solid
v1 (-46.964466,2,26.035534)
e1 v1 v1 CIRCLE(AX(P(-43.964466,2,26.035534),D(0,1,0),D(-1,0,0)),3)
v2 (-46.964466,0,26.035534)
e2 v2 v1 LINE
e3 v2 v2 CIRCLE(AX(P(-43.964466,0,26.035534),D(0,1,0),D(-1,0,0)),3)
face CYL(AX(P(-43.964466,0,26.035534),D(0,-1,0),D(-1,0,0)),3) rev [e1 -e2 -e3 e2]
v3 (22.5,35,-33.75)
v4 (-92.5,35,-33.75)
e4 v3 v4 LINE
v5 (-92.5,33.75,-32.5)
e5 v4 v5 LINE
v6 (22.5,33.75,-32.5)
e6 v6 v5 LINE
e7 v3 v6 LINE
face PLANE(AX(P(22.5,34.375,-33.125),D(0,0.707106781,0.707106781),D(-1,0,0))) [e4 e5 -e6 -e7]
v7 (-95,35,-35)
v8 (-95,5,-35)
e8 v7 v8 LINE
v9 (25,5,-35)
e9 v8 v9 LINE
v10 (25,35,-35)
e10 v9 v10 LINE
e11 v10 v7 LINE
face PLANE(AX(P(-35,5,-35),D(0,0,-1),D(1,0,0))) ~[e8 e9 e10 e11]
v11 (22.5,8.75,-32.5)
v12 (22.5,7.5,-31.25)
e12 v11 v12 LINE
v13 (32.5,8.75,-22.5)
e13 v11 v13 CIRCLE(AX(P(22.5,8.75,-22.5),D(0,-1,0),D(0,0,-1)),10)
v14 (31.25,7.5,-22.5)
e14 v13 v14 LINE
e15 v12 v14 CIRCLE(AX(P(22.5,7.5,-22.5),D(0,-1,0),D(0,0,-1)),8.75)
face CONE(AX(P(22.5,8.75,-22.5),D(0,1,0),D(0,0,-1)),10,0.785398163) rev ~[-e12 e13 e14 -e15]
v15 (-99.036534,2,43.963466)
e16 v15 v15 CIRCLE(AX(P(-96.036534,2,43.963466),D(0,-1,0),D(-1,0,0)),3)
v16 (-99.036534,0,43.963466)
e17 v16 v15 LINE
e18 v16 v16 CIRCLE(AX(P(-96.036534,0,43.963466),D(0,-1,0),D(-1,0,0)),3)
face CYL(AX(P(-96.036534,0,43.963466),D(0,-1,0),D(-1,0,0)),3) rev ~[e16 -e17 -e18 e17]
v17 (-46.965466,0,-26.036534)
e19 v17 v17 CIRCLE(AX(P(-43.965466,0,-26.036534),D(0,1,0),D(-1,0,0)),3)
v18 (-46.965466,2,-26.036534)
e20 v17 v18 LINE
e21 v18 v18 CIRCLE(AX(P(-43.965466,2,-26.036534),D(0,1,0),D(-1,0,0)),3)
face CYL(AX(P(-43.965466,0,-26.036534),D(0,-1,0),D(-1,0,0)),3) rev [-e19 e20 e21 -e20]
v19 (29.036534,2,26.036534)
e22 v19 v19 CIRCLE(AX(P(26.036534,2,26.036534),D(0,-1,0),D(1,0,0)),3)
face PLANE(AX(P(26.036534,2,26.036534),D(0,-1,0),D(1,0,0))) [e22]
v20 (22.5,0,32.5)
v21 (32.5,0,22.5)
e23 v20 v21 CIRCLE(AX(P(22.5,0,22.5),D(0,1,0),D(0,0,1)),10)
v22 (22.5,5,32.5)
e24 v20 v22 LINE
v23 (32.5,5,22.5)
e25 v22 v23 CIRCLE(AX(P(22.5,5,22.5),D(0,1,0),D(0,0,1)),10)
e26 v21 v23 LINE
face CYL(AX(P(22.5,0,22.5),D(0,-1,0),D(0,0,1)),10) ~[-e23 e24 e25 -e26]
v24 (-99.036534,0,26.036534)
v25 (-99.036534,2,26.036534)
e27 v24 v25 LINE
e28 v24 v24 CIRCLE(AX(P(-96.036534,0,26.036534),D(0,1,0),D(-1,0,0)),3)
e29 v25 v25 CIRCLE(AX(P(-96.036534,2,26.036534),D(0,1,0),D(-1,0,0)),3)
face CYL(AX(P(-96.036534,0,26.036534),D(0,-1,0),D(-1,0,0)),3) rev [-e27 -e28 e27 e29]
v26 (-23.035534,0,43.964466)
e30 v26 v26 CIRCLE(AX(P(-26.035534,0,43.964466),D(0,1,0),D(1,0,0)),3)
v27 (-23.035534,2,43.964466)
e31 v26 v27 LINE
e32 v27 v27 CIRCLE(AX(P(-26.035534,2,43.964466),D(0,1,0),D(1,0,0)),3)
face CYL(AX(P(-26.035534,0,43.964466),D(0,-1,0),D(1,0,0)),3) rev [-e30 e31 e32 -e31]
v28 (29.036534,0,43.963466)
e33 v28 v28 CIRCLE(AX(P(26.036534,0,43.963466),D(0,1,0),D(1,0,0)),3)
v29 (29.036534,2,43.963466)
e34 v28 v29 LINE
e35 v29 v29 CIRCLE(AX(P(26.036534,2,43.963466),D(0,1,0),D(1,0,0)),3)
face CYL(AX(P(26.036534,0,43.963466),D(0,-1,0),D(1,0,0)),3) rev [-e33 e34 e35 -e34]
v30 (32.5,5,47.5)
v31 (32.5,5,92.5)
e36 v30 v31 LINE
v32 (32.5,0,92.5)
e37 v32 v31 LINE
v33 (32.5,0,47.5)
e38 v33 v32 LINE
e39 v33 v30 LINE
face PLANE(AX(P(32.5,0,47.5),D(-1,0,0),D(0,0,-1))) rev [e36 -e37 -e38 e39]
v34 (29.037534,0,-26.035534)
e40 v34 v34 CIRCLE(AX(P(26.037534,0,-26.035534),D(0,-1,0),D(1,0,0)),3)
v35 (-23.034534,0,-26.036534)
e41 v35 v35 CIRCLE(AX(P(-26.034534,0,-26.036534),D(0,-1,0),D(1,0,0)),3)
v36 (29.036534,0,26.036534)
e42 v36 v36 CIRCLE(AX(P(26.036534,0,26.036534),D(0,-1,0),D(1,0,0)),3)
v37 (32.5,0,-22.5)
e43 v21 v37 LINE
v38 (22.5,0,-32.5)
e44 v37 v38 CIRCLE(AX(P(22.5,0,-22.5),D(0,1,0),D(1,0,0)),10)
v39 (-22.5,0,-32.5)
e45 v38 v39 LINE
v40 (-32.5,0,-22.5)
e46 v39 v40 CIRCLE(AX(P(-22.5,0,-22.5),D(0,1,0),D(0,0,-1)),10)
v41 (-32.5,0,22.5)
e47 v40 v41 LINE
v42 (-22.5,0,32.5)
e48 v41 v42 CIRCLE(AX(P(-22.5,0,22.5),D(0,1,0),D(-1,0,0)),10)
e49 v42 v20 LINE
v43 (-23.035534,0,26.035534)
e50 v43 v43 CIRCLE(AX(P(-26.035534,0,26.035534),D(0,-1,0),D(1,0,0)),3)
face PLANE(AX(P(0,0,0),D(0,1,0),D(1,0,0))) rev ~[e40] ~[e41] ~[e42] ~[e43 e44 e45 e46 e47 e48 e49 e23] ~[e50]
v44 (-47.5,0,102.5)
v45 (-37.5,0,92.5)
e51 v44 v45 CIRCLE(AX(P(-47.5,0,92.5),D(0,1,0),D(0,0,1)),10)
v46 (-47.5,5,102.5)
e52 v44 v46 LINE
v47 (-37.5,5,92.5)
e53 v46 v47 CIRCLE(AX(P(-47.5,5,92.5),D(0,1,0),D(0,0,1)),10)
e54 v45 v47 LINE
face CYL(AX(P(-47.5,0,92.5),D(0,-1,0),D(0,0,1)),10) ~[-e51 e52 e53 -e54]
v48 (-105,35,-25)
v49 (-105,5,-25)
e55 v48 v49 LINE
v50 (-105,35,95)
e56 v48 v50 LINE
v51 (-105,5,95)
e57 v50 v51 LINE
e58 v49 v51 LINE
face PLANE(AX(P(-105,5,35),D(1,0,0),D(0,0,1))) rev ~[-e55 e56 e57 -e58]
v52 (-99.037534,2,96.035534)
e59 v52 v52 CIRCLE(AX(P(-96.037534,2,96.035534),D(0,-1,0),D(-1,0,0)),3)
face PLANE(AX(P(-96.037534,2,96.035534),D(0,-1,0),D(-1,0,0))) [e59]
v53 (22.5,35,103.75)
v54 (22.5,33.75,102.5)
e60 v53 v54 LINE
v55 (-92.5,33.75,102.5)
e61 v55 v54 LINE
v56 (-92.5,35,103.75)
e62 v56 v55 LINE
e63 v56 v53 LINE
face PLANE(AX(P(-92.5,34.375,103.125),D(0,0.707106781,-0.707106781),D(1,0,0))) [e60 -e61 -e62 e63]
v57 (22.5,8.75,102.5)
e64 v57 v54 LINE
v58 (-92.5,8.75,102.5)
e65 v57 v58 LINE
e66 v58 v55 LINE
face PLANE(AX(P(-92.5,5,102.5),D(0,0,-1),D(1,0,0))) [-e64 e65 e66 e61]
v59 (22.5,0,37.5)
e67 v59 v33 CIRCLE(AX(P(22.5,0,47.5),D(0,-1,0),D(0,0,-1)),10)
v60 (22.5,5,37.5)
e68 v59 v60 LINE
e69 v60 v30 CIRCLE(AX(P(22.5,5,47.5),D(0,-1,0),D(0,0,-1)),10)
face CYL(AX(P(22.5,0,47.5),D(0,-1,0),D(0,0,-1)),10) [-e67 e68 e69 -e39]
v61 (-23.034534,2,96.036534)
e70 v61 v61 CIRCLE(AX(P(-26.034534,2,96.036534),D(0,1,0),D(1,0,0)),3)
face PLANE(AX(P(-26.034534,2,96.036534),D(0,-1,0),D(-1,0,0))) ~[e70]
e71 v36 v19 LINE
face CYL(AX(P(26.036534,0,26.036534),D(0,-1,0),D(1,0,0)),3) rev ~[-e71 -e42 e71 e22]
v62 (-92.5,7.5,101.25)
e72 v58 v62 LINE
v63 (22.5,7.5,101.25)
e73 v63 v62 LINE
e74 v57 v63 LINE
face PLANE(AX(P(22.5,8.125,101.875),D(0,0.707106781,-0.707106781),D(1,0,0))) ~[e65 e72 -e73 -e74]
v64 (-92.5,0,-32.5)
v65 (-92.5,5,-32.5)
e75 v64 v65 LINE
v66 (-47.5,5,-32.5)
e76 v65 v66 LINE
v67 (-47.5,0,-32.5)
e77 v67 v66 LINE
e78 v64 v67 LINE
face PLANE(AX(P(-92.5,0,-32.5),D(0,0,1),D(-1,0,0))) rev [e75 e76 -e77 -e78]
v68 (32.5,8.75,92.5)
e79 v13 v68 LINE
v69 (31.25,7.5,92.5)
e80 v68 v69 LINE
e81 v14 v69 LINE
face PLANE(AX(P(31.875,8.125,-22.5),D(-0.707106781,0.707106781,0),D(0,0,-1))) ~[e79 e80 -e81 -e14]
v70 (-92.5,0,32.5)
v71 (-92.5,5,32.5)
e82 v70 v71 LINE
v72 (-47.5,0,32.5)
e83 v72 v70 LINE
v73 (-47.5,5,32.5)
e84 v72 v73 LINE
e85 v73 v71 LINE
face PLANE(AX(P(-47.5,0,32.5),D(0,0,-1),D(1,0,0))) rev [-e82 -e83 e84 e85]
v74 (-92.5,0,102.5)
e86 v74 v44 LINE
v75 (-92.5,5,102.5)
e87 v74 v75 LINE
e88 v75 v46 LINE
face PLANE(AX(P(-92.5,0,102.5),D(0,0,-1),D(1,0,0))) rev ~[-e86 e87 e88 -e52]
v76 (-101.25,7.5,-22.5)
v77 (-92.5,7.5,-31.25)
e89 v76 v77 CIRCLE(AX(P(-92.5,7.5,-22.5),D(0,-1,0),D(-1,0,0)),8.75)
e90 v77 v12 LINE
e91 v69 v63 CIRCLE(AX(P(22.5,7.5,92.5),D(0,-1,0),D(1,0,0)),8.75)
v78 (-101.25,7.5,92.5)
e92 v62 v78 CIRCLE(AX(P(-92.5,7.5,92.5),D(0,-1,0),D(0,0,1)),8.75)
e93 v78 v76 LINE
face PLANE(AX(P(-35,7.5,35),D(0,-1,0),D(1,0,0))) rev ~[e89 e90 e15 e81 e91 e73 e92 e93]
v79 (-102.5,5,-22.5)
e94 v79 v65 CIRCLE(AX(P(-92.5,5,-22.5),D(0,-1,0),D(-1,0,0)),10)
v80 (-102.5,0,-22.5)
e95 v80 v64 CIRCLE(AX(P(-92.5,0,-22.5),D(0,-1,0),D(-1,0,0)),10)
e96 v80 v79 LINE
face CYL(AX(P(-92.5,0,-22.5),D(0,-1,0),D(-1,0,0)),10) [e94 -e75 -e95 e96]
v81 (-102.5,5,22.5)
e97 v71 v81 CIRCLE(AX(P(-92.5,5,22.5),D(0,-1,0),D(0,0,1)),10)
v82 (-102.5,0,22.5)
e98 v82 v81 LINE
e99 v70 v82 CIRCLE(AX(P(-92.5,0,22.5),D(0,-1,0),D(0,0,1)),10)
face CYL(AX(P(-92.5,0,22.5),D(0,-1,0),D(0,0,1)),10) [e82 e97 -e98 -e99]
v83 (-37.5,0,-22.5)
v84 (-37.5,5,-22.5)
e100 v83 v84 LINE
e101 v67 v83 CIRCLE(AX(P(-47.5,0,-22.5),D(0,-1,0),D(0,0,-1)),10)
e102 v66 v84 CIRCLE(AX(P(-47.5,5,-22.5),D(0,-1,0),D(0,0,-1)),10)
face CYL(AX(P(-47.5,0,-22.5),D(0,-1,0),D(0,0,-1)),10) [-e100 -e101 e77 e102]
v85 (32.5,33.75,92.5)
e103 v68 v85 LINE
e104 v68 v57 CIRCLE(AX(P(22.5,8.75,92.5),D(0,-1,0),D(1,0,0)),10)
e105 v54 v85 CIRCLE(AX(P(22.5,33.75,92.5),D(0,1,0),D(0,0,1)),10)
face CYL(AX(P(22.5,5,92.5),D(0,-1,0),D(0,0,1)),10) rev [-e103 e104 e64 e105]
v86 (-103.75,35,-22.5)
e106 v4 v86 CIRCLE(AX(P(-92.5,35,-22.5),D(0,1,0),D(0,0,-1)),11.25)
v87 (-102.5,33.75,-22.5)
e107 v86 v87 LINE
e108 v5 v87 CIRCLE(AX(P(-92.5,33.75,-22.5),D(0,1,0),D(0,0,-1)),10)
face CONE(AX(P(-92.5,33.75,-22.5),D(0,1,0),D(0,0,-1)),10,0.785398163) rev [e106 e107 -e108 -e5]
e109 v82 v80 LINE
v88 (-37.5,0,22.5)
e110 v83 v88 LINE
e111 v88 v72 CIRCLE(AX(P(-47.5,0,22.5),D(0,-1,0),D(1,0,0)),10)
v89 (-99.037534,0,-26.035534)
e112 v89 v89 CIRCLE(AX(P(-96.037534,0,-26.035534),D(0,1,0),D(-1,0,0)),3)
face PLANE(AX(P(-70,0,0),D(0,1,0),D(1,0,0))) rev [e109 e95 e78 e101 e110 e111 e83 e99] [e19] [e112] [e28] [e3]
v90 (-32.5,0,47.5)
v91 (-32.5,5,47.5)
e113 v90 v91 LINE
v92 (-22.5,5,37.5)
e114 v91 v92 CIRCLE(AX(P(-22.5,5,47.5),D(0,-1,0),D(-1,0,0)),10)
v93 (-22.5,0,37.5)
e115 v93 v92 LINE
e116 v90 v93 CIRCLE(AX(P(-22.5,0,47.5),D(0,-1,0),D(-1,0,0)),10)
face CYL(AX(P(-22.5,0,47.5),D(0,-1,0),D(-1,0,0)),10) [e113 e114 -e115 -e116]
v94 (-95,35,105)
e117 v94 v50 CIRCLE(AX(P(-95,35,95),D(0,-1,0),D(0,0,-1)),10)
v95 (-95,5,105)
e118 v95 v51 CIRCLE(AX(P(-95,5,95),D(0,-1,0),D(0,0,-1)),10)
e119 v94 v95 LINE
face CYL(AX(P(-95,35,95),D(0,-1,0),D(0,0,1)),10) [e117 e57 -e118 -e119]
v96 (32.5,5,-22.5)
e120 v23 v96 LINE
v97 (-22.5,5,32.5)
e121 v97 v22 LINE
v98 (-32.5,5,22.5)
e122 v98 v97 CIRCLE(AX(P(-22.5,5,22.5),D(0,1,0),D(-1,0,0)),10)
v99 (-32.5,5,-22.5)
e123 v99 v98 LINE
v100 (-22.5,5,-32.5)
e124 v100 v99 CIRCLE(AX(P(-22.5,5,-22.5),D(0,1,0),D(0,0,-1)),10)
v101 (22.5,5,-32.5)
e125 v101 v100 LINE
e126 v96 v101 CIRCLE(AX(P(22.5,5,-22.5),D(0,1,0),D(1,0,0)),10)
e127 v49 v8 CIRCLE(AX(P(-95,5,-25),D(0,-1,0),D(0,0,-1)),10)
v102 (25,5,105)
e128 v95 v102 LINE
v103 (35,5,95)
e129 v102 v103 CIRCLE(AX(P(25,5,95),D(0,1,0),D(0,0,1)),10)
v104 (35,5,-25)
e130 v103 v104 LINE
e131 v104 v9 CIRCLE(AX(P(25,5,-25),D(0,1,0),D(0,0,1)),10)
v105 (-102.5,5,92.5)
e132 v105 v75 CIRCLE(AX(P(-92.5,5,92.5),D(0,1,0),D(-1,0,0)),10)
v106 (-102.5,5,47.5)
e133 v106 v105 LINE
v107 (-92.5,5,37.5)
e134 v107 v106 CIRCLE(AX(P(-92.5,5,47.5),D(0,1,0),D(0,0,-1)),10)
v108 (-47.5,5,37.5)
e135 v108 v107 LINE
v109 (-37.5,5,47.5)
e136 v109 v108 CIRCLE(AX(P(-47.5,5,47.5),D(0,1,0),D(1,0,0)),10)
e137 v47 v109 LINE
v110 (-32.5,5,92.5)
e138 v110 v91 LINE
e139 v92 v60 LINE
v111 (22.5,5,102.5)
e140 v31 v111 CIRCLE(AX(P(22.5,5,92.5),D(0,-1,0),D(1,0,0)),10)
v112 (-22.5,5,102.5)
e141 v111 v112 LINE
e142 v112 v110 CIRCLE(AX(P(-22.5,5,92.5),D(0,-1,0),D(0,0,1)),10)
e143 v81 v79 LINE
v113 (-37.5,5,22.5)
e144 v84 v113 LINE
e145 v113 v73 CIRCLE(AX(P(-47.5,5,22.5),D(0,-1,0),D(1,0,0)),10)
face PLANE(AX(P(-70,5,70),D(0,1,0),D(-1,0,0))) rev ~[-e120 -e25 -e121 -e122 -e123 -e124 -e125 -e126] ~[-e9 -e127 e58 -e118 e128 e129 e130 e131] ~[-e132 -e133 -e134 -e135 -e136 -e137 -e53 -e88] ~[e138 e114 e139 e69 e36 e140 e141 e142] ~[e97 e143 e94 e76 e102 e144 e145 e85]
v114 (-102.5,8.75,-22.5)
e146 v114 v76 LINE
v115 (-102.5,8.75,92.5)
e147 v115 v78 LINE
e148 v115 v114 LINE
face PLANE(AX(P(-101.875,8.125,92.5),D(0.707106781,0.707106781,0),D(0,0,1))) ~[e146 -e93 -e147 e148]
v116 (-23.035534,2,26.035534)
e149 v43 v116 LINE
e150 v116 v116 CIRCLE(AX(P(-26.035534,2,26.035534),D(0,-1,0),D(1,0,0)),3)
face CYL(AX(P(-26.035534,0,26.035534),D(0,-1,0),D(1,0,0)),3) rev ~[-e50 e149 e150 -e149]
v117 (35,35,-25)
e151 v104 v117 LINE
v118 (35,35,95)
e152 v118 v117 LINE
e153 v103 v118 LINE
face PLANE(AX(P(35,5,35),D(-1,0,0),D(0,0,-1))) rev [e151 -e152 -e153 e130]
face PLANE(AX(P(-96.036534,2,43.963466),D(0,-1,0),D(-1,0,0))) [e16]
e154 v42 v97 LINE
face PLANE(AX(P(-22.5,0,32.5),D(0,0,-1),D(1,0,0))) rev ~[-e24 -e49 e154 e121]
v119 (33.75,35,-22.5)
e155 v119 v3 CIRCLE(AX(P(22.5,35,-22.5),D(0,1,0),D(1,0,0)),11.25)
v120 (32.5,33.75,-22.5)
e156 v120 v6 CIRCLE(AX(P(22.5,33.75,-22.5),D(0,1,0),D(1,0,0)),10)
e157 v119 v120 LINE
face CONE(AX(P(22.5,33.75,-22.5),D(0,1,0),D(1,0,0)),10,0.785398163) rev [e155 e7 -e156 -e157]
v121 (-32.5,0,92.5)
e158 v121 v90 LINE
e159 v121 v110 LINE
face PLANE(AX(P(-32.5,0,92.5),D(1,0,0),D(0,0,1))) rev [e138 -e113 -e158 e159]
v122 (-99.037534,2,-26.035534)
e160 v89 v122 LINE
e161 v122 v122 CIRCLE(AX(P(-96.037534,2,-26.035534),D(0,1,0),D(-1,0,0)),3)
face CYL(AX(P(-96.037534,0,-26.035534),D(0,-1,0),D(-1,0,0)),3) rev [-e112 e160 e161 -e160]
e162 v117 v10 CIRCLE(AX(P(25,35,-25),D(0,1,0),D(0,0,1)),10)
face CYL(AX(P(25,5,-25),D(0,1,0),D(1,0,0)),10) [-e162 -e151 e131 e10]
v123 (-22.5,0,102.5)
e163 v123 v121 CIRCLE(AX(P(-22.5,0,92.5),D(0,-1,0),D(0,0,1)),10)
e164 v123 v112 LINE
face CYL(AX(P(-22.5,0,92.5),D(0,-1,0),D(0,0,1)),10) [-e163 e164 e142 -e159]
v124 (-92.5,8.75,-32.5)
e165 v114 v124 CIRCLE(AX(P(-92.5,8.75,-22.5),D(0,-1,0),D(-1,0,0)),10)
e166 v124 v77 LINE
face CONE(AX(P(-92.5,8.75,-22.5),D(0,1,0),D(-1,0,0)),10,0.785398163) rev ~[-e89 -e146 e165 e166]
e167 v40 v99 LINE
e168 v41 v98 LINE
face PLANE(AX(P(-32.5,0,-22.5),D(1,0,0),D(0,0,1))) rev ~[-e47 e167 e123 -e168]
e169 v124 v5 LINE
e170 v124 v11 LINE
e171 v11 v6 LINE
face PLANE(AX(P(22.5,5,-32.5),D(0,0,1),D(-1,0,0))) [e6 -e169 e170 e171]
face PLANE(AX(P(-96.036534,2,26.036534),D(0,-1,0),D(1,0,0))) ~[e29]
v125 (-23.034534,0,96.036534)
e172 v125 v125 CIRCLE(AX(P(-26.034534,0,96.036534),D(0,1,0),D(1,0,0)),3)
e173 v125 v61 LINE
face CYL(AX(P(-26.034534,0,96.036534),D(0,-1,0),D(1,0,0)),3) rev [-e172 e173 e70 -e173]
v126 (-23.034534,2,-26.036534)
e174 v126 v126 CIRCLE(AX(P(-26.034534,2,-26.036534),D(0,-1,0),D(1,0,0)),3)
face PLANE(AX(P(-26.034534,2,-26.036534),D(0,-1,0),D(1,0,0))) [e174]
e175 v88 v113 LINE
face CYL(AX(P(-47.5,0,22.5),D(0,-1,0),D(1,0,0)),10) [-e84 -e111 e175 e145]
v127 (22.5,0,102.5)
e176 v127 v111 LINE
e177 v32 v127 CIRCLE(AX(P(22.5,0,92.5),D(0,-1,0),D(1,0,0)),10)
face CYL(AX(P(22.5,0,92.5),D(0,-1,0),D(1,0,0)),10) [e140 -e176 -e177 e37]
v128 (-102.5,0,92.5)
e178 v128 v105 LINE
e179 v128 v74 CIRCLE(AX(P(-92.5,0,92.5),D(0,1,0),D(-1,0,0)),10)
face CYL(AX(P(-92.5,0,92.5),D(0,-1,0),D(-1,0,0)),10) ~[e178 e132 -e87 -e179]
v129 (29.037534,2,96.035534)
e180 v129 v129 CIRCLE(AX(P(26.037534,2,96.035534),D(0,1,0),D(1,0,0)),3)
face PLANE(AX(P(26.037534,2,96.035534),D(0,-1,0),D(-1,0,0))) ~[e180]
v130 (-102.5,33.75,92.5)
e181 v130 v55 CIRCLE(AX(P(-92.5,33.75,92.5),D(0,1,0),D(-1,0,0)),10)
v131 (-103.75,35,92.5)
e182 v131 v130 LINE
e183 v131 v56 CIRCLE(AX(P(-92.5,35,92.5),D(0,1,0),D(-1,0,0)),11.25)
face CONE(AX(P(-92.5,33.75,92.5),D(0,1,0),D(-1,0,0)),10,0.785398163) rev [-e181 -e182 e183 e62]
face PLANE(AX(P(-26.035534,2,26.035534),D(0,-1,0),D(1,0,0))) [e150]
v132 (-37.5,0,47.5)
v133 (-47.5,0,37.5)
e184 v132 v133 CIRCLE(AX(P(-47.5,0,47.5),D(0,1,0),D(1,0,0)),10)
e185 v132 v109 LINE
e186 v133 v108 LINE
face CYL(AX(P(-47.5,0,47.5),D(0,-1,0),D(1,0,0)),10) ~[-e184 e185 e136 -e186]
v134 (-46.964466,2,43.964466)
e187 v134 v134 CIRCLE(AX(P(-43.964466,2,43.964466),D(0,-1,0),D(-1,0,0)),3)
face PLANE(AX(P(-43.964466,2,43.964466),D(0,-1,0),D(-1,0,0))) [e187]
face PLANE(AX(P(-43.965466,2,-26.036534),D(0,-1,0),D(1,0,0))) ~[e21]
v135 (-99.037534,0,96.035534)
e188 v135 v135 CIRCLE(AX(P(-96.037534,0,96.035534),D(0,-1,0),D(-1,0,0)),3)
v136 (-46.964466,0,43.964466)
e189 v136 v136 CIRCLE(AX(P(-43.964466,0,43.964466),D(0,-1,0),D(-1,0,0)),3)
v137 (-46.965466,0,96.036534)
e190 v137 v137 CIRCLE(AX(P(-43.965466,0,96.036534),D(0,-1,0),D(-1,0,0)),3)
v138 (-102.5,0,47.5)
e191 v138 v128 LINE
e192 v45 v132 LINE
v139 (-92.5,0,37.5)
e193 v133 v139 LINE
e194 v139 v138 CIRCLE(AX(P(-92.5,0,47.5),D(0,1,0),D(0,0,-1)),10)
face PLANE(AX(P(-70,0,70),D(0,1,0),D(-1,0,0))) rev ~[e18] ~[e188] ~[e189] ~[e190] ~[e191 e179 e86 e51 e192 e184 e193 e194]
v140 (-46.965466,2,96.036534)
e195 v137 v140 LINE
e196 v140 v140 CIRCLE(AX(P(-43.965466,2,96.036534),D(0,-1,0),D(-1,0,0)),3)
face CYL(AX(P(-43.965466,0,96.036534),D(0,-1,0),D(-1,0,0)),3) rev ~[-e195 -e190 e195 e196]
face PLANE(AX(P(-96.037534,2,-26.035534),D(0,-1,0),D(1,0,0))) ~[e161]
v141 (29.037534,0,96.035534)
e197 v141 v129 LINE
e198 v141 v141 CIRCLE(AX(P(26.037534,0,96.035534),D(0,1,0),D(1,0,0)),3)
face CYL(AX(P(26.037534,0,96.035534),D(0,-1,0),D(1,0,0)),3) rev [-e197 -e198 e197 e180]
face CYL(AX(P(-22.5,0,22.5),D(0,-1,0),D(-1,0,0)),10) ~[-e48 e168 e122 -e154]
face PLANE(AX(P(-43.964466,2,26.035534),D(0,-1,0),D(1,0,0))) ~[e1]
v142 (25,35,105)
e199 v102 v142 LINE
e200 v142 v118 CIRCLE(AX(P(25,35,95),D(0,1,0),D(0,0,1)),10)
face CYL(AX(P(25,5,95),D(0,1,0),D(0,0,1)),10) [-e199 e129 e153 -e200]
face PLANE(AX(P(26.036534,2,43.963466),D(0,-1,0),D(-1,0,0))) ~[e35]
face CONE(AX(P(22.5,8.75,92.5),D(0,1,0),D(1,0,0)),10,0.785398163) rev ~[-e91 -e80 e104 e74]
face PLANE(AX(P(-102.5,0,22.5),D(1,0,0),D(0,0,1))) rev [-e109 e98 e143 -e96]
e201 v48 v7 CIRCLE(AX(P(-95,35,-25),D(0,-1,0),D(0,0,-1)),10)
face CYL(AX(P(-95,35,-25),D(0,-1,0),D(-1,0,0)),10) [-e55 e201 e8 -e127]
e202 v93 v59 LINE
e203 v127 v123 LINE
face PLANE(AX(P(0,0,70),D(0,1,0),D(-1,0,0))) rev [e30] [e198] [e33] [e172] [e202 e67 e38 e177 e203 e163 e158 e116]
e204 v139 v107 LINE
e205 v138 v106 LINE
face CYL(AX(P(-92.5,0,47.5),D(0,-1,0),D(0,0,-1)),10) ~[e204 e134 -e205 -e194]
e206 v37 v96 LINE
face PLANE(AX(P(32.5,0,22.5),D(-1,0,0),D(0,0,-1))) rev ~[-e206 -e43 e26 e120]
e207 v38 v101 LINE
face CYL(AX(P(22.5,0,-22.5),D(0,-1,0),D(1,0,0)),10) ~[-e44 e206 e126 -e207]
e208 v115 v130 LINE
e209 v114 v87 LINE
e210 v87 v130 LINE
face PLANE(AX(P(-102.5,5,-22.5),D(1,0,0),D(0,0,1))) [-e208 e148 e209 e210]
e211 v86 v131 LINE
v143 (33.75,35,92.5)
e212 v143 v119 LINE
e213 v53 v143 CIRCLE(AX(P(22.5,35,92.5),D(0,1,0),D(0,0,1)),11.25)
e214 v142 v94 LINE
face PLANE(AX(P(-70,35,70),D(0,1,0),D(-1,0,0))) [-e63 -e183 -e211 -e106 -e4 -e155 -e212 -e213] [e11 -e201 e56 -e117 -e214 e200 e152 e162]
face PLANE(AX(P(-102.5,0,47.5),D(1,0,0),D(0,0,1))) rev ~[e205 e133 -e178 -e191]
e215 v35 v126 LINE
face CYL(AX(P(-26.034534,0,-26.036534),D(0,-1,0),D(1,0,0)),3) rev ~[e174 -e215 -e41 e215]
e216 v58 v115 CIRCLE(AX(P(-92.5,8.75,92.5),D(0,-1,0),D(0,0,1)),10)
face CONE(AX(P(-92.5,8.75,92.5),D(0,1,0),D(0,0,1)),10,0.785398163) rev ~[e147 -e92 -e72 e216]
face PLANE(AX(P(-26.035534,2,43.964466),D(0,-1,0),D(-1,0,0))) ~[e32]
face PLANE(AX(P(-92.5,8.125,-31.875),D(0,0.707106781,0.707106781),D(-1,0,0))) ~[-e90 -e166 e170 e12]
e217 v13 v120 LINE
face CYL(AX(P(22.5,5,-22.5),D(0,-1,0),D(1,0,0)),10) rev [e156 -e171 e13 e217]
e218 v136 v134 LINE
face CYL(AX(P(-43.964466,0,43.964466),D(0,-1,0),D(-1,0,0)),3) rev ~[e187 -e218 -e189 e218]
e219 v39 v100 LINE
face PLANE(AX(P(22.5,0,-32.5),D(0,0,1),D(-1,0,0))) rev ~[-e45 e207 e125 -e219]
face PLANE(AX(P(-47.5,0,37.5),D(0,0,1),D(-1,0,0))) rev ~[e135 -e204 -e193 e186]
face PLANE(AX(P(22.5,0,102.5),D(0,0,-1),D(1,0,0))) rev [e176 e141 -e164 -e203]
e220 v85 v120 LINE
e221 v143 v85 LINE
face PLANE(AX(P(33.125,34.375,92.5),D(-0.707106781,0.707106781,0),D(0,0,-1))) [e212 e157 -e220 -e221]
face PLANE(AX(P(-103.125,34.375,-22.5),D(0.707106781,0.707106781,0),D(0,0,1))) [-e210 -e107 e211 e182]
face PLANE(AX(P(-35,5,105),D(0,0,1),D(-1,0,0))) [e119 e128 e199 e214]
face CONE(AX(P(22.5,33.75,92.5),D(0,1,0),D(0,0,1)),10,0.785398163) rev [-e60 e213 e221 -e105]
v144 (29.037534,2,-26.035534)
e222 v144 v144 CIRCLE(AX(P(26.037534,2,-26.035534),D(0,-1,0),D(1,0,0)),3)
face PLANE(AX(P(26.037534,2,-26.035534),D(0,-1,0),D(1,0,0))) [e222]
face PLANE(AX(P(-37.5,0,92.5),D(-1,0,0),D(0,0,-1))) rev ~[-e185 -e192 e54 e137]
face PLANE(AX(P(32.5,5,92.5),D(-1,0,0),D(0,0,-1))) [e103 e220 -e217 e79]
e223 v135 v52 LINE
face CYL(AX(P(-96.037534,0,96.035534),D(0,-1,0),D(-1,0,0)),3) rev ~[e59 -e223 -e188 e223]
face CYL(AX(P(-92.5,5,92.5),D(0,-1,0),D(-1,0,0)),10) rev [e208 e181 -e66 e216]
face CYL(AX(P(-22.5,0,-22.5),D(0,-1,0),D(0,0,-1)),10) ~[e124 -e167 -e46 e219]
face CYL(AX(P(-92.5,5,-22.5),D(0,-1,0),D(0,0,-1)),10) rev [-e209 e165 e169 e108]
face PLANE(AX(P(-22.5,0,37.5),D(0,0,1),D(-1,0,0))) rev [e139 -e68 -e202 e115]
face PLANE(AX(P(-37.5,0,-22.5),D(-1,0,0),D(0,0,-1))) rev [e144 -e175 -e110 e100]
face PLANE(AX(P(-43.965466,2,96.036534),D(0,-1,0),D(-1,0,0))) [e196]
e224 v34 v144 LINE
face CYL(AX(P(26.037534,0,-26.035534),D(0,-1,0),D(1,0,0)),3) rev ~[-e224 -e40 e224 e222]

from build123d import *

# Parameters (mm, degrees)
BOSS_EXTRUDE4_DEPTH = 5
SKETCH6_W           = 70
SKETCH6_H           = 70
BOSS_EXTRUDE5_DEPTH = 30
SKETCH8_R           = 3
CUT_EXTRUDE1_DEPTH  = 2
CUT_EXTRUDE3_START  = -30
CUT_EXTRUDE3_DEPTH  = 30
SKETCH10_W          = 140
SKETCH10_H          = 140
BOSS_EXTRUDE6_DEPTH = 2.5
FILLET1_R           = 10
CHAMFER1_SIZE       = 1.25


with BuildPart() as part:
    # Sketch5 → Boss-Extrude4 (new body)
    with BuildSketch(Plane(origin=(0, 0, 0), x_dir=(1, 0, 0), z_dir=(0, 1, 0))):
        with BuildLine():
            Line((-22.5, -32.5), (22.5, -32.5))
            ThreePointArc((22.5, -32.5), (29.571067812, -29.571067812), (32.5, -22.5))
            Line((32.5, -22.5), (32.5, 22.5))
            ThreePointArc((32.5, 22.5), (29.571067812, 29.571067812), (22.5, 32.5))
            Line((22.5, 32.5), (-22.5, 32.5))
            ThreePointArc((-22.5, 32.5), (-29.571067812, 29.571067812), (-32.5, 22.5))
            Line((-32.5, 22.5), (-32.5, -22.5))
            ThreePointArc((-32.5, -22.5), (-29.571067812, -29.571067812), (-22.5, -32.5))
        make_face()
    extrude(amount=BOSS_EXTRUDE4_DEPTH)

    # Sketch6 → Boss-Extrude5 (add)
    with BuildSketch(Plane(origin=(0, 5, 0), x_dir=(1, 0, 0), z_dir=(0, 1, 0))):
        Rectangle(SKETCH6_W, SKETCH6_H)
    extrude(amount=BOSS_EXTRUDE5_DEPTH)

    # Sketch8 → Cut-Extrude1 (cut)
    with BuildSketch(Plane.XZ):
        with Locations((-26.035533906, 26.035533906)):
            Circle(SKETCH8_R)
        with Locations((26.036533906, 26.036533906)):
            Circle(SKETCH8_R)
        with Locations((26.037533906, -26.035533906)):
            Circle(SKETCH8_R)
        with Locations((-26.034533906, -26.036533906)):
            Circle(SKETCH8_R)
    extrude(amount=-CUT_EXTRUDE1_DEPTH, mode=Mode.SUBTRACT)

    # Mirror1: part across plane


with BuildPart() as part_1:
    add(part.part)
    add(part.part.mirror(Plane(origin=(-35, 35, -35), x_dir=(0, 0, 1), z_dir=(1, 0, 0))))

    # Mirror2: part across plane


with BuildPart() as part_2:
    add(part_1.part)
    add(part_1.part.mirror(Plane(origin=(35, 35, 35), x_dir=(1, 0, 0), z_dir=(0, 0, -1))))

    # Sketch9 → Cut-Extrude3 (cut)
    with BuildSketch(Plane(origin=(0, 35, 0), x_dir=(1, 0, 0), z_dir=(0, 1, 0)).offset(CUT_EXTRUDE3_START)):
        with BuildLine():
            Line((22.5, 32.5), (-92.5, 32.5))
            ThreePointArc((-92.5, 32.5), (-99.571067812, 29.571067812), (-102.5, 22.5))
            Line((-102.5, 22.5), (-102.5, -92.5))
            ThreePointArc((-102.5, -92.5), (-99.571067812, -99.571067812), (-92.5, -102.5))
            Line((-92.5, -102.5), (22.5, -102.5))
            ThreePointArc((22.5, -102.5), (29.571067812, -99.571067812), (32.5, -92.5))
            Line((32.5, -92.5), (32.5, 22.5))
            ThreePointArc((32.5, 22.5), (29.571067812, 29.571067812), (22.5, 32.5))
        make_face()
    extrude(amount=CUT_EXTRUDE3_DEPTH, mode=Mode.SUBTRACT)


with BuildPart() as cut_extrude3_piece_1:
    # of the separate pieces the step leaves, piece 1, a body of its own (cut_extrude3_pieces)
    add(part_2.part.solids().sort_by_distance((35, 5, -35))[0])

    # Sketch10 → Boss-Extrude6 (add)
    with BuildSketch(Plane.XZ.offset(-5)):
        with Locations((-35, 35)):
            Rectangle(SKETCH10_W, SKETCH10_H)
    extrude(amount=-BOSS_EXTRUDE6_DEPTH)


with BuildPart() as cut_extrude3_piece_2:
    # of the separate pieces the step leaves, piece 2, a body of its own (cut_extrude3_pieces)
    add(part_2.part.solids().sort_by_distance((-92.5, 0, -32.5))[0])


with BuildPart() as cut_extrude3_piece_3:
    # of the separate pieces the step leaves, piece 3, a body of its own (cut_extrude3_pieces)
    add(part_2.part.solids().sort_by_distance((-102.5, 0, 47.5))[0])


with BuildPart() as cut_extrude3_piece_4:
    # of the separate pieces the step leaves, piece 4, a body of its own (cut_extrude3_pieces)
    add(part_2.part.solids().sort_by_distance((22.5, 0, 102.5))[0])


with BuildPart() as cut_extrude3_piece_5:
    # of the separate pieces the step leaves, piece 5, a body of its own (cut_extrude3_pieces)
    add(part_2.part.solids().sort_by_distance((32.5, 0, 22.5))[0])


with BuildPart() as cut_extrude3_piece_3_1:
    add(cut_extrude3_piece_3.part)

    # Combine1: union Cut-Extrude3 piece 5, Cut-Extrude3 piece 2, Cut-Extrude3 piece 4, Cut-Extrude3 piece 1
    add(cut_extrude3_piece_5.part)
    add(cut_extrude3_piece_2.part)
    add(cut_extrude3_piece_4.part)
    add(cut_extrude3_piece_1.part)

    # Fillet1
    fillet1_edges = [cut_extrude3_piece_3_1.edges().sort_by_distance(p)[0] for p in [
        (-105, 20, -35),
        (-105, 20, 105),
        (35, 20, 105),
        (35, 20, -35),
    ]]
    fillet(fillet1_edges, radius=FILLET1_R)

    # Chamfer1
    chamfer1_edges = [cut_extrude3_piece_3_1.edges().sort_by_distance(p)[0] for p in [
        (-35, 7.5, 102.5),
        (29.571067812, 7.5, 99.571067812),
        (-99.571067812, 7.5, 99.571067812),
        (32.5, 7.5, 35),
        (-102.5, 7.5, 35),
        (29.571067812, 7.5, -29.571067812),
        (-99.571067812, 7.5, -29.571067812),
        (-35, 7.5, -32.5),
        (29.571067812, 35, 99.571067812),
        (32.5, 35, 35),
        (-35, 35, 102.5),
        (29.571067812, 35, -29.571067812),
        (-99.571067812, 35, 99.571067812),
        (-35, 35, -32.5),
        (-102.5, 35, 35),
        (-99.571067812, 35, -29.571067812),
    ]]
    chamfer(chamfer1_edges, length=CHAMFER1_SIZE)


solid = cut_extrude3_piece_3_1.part
